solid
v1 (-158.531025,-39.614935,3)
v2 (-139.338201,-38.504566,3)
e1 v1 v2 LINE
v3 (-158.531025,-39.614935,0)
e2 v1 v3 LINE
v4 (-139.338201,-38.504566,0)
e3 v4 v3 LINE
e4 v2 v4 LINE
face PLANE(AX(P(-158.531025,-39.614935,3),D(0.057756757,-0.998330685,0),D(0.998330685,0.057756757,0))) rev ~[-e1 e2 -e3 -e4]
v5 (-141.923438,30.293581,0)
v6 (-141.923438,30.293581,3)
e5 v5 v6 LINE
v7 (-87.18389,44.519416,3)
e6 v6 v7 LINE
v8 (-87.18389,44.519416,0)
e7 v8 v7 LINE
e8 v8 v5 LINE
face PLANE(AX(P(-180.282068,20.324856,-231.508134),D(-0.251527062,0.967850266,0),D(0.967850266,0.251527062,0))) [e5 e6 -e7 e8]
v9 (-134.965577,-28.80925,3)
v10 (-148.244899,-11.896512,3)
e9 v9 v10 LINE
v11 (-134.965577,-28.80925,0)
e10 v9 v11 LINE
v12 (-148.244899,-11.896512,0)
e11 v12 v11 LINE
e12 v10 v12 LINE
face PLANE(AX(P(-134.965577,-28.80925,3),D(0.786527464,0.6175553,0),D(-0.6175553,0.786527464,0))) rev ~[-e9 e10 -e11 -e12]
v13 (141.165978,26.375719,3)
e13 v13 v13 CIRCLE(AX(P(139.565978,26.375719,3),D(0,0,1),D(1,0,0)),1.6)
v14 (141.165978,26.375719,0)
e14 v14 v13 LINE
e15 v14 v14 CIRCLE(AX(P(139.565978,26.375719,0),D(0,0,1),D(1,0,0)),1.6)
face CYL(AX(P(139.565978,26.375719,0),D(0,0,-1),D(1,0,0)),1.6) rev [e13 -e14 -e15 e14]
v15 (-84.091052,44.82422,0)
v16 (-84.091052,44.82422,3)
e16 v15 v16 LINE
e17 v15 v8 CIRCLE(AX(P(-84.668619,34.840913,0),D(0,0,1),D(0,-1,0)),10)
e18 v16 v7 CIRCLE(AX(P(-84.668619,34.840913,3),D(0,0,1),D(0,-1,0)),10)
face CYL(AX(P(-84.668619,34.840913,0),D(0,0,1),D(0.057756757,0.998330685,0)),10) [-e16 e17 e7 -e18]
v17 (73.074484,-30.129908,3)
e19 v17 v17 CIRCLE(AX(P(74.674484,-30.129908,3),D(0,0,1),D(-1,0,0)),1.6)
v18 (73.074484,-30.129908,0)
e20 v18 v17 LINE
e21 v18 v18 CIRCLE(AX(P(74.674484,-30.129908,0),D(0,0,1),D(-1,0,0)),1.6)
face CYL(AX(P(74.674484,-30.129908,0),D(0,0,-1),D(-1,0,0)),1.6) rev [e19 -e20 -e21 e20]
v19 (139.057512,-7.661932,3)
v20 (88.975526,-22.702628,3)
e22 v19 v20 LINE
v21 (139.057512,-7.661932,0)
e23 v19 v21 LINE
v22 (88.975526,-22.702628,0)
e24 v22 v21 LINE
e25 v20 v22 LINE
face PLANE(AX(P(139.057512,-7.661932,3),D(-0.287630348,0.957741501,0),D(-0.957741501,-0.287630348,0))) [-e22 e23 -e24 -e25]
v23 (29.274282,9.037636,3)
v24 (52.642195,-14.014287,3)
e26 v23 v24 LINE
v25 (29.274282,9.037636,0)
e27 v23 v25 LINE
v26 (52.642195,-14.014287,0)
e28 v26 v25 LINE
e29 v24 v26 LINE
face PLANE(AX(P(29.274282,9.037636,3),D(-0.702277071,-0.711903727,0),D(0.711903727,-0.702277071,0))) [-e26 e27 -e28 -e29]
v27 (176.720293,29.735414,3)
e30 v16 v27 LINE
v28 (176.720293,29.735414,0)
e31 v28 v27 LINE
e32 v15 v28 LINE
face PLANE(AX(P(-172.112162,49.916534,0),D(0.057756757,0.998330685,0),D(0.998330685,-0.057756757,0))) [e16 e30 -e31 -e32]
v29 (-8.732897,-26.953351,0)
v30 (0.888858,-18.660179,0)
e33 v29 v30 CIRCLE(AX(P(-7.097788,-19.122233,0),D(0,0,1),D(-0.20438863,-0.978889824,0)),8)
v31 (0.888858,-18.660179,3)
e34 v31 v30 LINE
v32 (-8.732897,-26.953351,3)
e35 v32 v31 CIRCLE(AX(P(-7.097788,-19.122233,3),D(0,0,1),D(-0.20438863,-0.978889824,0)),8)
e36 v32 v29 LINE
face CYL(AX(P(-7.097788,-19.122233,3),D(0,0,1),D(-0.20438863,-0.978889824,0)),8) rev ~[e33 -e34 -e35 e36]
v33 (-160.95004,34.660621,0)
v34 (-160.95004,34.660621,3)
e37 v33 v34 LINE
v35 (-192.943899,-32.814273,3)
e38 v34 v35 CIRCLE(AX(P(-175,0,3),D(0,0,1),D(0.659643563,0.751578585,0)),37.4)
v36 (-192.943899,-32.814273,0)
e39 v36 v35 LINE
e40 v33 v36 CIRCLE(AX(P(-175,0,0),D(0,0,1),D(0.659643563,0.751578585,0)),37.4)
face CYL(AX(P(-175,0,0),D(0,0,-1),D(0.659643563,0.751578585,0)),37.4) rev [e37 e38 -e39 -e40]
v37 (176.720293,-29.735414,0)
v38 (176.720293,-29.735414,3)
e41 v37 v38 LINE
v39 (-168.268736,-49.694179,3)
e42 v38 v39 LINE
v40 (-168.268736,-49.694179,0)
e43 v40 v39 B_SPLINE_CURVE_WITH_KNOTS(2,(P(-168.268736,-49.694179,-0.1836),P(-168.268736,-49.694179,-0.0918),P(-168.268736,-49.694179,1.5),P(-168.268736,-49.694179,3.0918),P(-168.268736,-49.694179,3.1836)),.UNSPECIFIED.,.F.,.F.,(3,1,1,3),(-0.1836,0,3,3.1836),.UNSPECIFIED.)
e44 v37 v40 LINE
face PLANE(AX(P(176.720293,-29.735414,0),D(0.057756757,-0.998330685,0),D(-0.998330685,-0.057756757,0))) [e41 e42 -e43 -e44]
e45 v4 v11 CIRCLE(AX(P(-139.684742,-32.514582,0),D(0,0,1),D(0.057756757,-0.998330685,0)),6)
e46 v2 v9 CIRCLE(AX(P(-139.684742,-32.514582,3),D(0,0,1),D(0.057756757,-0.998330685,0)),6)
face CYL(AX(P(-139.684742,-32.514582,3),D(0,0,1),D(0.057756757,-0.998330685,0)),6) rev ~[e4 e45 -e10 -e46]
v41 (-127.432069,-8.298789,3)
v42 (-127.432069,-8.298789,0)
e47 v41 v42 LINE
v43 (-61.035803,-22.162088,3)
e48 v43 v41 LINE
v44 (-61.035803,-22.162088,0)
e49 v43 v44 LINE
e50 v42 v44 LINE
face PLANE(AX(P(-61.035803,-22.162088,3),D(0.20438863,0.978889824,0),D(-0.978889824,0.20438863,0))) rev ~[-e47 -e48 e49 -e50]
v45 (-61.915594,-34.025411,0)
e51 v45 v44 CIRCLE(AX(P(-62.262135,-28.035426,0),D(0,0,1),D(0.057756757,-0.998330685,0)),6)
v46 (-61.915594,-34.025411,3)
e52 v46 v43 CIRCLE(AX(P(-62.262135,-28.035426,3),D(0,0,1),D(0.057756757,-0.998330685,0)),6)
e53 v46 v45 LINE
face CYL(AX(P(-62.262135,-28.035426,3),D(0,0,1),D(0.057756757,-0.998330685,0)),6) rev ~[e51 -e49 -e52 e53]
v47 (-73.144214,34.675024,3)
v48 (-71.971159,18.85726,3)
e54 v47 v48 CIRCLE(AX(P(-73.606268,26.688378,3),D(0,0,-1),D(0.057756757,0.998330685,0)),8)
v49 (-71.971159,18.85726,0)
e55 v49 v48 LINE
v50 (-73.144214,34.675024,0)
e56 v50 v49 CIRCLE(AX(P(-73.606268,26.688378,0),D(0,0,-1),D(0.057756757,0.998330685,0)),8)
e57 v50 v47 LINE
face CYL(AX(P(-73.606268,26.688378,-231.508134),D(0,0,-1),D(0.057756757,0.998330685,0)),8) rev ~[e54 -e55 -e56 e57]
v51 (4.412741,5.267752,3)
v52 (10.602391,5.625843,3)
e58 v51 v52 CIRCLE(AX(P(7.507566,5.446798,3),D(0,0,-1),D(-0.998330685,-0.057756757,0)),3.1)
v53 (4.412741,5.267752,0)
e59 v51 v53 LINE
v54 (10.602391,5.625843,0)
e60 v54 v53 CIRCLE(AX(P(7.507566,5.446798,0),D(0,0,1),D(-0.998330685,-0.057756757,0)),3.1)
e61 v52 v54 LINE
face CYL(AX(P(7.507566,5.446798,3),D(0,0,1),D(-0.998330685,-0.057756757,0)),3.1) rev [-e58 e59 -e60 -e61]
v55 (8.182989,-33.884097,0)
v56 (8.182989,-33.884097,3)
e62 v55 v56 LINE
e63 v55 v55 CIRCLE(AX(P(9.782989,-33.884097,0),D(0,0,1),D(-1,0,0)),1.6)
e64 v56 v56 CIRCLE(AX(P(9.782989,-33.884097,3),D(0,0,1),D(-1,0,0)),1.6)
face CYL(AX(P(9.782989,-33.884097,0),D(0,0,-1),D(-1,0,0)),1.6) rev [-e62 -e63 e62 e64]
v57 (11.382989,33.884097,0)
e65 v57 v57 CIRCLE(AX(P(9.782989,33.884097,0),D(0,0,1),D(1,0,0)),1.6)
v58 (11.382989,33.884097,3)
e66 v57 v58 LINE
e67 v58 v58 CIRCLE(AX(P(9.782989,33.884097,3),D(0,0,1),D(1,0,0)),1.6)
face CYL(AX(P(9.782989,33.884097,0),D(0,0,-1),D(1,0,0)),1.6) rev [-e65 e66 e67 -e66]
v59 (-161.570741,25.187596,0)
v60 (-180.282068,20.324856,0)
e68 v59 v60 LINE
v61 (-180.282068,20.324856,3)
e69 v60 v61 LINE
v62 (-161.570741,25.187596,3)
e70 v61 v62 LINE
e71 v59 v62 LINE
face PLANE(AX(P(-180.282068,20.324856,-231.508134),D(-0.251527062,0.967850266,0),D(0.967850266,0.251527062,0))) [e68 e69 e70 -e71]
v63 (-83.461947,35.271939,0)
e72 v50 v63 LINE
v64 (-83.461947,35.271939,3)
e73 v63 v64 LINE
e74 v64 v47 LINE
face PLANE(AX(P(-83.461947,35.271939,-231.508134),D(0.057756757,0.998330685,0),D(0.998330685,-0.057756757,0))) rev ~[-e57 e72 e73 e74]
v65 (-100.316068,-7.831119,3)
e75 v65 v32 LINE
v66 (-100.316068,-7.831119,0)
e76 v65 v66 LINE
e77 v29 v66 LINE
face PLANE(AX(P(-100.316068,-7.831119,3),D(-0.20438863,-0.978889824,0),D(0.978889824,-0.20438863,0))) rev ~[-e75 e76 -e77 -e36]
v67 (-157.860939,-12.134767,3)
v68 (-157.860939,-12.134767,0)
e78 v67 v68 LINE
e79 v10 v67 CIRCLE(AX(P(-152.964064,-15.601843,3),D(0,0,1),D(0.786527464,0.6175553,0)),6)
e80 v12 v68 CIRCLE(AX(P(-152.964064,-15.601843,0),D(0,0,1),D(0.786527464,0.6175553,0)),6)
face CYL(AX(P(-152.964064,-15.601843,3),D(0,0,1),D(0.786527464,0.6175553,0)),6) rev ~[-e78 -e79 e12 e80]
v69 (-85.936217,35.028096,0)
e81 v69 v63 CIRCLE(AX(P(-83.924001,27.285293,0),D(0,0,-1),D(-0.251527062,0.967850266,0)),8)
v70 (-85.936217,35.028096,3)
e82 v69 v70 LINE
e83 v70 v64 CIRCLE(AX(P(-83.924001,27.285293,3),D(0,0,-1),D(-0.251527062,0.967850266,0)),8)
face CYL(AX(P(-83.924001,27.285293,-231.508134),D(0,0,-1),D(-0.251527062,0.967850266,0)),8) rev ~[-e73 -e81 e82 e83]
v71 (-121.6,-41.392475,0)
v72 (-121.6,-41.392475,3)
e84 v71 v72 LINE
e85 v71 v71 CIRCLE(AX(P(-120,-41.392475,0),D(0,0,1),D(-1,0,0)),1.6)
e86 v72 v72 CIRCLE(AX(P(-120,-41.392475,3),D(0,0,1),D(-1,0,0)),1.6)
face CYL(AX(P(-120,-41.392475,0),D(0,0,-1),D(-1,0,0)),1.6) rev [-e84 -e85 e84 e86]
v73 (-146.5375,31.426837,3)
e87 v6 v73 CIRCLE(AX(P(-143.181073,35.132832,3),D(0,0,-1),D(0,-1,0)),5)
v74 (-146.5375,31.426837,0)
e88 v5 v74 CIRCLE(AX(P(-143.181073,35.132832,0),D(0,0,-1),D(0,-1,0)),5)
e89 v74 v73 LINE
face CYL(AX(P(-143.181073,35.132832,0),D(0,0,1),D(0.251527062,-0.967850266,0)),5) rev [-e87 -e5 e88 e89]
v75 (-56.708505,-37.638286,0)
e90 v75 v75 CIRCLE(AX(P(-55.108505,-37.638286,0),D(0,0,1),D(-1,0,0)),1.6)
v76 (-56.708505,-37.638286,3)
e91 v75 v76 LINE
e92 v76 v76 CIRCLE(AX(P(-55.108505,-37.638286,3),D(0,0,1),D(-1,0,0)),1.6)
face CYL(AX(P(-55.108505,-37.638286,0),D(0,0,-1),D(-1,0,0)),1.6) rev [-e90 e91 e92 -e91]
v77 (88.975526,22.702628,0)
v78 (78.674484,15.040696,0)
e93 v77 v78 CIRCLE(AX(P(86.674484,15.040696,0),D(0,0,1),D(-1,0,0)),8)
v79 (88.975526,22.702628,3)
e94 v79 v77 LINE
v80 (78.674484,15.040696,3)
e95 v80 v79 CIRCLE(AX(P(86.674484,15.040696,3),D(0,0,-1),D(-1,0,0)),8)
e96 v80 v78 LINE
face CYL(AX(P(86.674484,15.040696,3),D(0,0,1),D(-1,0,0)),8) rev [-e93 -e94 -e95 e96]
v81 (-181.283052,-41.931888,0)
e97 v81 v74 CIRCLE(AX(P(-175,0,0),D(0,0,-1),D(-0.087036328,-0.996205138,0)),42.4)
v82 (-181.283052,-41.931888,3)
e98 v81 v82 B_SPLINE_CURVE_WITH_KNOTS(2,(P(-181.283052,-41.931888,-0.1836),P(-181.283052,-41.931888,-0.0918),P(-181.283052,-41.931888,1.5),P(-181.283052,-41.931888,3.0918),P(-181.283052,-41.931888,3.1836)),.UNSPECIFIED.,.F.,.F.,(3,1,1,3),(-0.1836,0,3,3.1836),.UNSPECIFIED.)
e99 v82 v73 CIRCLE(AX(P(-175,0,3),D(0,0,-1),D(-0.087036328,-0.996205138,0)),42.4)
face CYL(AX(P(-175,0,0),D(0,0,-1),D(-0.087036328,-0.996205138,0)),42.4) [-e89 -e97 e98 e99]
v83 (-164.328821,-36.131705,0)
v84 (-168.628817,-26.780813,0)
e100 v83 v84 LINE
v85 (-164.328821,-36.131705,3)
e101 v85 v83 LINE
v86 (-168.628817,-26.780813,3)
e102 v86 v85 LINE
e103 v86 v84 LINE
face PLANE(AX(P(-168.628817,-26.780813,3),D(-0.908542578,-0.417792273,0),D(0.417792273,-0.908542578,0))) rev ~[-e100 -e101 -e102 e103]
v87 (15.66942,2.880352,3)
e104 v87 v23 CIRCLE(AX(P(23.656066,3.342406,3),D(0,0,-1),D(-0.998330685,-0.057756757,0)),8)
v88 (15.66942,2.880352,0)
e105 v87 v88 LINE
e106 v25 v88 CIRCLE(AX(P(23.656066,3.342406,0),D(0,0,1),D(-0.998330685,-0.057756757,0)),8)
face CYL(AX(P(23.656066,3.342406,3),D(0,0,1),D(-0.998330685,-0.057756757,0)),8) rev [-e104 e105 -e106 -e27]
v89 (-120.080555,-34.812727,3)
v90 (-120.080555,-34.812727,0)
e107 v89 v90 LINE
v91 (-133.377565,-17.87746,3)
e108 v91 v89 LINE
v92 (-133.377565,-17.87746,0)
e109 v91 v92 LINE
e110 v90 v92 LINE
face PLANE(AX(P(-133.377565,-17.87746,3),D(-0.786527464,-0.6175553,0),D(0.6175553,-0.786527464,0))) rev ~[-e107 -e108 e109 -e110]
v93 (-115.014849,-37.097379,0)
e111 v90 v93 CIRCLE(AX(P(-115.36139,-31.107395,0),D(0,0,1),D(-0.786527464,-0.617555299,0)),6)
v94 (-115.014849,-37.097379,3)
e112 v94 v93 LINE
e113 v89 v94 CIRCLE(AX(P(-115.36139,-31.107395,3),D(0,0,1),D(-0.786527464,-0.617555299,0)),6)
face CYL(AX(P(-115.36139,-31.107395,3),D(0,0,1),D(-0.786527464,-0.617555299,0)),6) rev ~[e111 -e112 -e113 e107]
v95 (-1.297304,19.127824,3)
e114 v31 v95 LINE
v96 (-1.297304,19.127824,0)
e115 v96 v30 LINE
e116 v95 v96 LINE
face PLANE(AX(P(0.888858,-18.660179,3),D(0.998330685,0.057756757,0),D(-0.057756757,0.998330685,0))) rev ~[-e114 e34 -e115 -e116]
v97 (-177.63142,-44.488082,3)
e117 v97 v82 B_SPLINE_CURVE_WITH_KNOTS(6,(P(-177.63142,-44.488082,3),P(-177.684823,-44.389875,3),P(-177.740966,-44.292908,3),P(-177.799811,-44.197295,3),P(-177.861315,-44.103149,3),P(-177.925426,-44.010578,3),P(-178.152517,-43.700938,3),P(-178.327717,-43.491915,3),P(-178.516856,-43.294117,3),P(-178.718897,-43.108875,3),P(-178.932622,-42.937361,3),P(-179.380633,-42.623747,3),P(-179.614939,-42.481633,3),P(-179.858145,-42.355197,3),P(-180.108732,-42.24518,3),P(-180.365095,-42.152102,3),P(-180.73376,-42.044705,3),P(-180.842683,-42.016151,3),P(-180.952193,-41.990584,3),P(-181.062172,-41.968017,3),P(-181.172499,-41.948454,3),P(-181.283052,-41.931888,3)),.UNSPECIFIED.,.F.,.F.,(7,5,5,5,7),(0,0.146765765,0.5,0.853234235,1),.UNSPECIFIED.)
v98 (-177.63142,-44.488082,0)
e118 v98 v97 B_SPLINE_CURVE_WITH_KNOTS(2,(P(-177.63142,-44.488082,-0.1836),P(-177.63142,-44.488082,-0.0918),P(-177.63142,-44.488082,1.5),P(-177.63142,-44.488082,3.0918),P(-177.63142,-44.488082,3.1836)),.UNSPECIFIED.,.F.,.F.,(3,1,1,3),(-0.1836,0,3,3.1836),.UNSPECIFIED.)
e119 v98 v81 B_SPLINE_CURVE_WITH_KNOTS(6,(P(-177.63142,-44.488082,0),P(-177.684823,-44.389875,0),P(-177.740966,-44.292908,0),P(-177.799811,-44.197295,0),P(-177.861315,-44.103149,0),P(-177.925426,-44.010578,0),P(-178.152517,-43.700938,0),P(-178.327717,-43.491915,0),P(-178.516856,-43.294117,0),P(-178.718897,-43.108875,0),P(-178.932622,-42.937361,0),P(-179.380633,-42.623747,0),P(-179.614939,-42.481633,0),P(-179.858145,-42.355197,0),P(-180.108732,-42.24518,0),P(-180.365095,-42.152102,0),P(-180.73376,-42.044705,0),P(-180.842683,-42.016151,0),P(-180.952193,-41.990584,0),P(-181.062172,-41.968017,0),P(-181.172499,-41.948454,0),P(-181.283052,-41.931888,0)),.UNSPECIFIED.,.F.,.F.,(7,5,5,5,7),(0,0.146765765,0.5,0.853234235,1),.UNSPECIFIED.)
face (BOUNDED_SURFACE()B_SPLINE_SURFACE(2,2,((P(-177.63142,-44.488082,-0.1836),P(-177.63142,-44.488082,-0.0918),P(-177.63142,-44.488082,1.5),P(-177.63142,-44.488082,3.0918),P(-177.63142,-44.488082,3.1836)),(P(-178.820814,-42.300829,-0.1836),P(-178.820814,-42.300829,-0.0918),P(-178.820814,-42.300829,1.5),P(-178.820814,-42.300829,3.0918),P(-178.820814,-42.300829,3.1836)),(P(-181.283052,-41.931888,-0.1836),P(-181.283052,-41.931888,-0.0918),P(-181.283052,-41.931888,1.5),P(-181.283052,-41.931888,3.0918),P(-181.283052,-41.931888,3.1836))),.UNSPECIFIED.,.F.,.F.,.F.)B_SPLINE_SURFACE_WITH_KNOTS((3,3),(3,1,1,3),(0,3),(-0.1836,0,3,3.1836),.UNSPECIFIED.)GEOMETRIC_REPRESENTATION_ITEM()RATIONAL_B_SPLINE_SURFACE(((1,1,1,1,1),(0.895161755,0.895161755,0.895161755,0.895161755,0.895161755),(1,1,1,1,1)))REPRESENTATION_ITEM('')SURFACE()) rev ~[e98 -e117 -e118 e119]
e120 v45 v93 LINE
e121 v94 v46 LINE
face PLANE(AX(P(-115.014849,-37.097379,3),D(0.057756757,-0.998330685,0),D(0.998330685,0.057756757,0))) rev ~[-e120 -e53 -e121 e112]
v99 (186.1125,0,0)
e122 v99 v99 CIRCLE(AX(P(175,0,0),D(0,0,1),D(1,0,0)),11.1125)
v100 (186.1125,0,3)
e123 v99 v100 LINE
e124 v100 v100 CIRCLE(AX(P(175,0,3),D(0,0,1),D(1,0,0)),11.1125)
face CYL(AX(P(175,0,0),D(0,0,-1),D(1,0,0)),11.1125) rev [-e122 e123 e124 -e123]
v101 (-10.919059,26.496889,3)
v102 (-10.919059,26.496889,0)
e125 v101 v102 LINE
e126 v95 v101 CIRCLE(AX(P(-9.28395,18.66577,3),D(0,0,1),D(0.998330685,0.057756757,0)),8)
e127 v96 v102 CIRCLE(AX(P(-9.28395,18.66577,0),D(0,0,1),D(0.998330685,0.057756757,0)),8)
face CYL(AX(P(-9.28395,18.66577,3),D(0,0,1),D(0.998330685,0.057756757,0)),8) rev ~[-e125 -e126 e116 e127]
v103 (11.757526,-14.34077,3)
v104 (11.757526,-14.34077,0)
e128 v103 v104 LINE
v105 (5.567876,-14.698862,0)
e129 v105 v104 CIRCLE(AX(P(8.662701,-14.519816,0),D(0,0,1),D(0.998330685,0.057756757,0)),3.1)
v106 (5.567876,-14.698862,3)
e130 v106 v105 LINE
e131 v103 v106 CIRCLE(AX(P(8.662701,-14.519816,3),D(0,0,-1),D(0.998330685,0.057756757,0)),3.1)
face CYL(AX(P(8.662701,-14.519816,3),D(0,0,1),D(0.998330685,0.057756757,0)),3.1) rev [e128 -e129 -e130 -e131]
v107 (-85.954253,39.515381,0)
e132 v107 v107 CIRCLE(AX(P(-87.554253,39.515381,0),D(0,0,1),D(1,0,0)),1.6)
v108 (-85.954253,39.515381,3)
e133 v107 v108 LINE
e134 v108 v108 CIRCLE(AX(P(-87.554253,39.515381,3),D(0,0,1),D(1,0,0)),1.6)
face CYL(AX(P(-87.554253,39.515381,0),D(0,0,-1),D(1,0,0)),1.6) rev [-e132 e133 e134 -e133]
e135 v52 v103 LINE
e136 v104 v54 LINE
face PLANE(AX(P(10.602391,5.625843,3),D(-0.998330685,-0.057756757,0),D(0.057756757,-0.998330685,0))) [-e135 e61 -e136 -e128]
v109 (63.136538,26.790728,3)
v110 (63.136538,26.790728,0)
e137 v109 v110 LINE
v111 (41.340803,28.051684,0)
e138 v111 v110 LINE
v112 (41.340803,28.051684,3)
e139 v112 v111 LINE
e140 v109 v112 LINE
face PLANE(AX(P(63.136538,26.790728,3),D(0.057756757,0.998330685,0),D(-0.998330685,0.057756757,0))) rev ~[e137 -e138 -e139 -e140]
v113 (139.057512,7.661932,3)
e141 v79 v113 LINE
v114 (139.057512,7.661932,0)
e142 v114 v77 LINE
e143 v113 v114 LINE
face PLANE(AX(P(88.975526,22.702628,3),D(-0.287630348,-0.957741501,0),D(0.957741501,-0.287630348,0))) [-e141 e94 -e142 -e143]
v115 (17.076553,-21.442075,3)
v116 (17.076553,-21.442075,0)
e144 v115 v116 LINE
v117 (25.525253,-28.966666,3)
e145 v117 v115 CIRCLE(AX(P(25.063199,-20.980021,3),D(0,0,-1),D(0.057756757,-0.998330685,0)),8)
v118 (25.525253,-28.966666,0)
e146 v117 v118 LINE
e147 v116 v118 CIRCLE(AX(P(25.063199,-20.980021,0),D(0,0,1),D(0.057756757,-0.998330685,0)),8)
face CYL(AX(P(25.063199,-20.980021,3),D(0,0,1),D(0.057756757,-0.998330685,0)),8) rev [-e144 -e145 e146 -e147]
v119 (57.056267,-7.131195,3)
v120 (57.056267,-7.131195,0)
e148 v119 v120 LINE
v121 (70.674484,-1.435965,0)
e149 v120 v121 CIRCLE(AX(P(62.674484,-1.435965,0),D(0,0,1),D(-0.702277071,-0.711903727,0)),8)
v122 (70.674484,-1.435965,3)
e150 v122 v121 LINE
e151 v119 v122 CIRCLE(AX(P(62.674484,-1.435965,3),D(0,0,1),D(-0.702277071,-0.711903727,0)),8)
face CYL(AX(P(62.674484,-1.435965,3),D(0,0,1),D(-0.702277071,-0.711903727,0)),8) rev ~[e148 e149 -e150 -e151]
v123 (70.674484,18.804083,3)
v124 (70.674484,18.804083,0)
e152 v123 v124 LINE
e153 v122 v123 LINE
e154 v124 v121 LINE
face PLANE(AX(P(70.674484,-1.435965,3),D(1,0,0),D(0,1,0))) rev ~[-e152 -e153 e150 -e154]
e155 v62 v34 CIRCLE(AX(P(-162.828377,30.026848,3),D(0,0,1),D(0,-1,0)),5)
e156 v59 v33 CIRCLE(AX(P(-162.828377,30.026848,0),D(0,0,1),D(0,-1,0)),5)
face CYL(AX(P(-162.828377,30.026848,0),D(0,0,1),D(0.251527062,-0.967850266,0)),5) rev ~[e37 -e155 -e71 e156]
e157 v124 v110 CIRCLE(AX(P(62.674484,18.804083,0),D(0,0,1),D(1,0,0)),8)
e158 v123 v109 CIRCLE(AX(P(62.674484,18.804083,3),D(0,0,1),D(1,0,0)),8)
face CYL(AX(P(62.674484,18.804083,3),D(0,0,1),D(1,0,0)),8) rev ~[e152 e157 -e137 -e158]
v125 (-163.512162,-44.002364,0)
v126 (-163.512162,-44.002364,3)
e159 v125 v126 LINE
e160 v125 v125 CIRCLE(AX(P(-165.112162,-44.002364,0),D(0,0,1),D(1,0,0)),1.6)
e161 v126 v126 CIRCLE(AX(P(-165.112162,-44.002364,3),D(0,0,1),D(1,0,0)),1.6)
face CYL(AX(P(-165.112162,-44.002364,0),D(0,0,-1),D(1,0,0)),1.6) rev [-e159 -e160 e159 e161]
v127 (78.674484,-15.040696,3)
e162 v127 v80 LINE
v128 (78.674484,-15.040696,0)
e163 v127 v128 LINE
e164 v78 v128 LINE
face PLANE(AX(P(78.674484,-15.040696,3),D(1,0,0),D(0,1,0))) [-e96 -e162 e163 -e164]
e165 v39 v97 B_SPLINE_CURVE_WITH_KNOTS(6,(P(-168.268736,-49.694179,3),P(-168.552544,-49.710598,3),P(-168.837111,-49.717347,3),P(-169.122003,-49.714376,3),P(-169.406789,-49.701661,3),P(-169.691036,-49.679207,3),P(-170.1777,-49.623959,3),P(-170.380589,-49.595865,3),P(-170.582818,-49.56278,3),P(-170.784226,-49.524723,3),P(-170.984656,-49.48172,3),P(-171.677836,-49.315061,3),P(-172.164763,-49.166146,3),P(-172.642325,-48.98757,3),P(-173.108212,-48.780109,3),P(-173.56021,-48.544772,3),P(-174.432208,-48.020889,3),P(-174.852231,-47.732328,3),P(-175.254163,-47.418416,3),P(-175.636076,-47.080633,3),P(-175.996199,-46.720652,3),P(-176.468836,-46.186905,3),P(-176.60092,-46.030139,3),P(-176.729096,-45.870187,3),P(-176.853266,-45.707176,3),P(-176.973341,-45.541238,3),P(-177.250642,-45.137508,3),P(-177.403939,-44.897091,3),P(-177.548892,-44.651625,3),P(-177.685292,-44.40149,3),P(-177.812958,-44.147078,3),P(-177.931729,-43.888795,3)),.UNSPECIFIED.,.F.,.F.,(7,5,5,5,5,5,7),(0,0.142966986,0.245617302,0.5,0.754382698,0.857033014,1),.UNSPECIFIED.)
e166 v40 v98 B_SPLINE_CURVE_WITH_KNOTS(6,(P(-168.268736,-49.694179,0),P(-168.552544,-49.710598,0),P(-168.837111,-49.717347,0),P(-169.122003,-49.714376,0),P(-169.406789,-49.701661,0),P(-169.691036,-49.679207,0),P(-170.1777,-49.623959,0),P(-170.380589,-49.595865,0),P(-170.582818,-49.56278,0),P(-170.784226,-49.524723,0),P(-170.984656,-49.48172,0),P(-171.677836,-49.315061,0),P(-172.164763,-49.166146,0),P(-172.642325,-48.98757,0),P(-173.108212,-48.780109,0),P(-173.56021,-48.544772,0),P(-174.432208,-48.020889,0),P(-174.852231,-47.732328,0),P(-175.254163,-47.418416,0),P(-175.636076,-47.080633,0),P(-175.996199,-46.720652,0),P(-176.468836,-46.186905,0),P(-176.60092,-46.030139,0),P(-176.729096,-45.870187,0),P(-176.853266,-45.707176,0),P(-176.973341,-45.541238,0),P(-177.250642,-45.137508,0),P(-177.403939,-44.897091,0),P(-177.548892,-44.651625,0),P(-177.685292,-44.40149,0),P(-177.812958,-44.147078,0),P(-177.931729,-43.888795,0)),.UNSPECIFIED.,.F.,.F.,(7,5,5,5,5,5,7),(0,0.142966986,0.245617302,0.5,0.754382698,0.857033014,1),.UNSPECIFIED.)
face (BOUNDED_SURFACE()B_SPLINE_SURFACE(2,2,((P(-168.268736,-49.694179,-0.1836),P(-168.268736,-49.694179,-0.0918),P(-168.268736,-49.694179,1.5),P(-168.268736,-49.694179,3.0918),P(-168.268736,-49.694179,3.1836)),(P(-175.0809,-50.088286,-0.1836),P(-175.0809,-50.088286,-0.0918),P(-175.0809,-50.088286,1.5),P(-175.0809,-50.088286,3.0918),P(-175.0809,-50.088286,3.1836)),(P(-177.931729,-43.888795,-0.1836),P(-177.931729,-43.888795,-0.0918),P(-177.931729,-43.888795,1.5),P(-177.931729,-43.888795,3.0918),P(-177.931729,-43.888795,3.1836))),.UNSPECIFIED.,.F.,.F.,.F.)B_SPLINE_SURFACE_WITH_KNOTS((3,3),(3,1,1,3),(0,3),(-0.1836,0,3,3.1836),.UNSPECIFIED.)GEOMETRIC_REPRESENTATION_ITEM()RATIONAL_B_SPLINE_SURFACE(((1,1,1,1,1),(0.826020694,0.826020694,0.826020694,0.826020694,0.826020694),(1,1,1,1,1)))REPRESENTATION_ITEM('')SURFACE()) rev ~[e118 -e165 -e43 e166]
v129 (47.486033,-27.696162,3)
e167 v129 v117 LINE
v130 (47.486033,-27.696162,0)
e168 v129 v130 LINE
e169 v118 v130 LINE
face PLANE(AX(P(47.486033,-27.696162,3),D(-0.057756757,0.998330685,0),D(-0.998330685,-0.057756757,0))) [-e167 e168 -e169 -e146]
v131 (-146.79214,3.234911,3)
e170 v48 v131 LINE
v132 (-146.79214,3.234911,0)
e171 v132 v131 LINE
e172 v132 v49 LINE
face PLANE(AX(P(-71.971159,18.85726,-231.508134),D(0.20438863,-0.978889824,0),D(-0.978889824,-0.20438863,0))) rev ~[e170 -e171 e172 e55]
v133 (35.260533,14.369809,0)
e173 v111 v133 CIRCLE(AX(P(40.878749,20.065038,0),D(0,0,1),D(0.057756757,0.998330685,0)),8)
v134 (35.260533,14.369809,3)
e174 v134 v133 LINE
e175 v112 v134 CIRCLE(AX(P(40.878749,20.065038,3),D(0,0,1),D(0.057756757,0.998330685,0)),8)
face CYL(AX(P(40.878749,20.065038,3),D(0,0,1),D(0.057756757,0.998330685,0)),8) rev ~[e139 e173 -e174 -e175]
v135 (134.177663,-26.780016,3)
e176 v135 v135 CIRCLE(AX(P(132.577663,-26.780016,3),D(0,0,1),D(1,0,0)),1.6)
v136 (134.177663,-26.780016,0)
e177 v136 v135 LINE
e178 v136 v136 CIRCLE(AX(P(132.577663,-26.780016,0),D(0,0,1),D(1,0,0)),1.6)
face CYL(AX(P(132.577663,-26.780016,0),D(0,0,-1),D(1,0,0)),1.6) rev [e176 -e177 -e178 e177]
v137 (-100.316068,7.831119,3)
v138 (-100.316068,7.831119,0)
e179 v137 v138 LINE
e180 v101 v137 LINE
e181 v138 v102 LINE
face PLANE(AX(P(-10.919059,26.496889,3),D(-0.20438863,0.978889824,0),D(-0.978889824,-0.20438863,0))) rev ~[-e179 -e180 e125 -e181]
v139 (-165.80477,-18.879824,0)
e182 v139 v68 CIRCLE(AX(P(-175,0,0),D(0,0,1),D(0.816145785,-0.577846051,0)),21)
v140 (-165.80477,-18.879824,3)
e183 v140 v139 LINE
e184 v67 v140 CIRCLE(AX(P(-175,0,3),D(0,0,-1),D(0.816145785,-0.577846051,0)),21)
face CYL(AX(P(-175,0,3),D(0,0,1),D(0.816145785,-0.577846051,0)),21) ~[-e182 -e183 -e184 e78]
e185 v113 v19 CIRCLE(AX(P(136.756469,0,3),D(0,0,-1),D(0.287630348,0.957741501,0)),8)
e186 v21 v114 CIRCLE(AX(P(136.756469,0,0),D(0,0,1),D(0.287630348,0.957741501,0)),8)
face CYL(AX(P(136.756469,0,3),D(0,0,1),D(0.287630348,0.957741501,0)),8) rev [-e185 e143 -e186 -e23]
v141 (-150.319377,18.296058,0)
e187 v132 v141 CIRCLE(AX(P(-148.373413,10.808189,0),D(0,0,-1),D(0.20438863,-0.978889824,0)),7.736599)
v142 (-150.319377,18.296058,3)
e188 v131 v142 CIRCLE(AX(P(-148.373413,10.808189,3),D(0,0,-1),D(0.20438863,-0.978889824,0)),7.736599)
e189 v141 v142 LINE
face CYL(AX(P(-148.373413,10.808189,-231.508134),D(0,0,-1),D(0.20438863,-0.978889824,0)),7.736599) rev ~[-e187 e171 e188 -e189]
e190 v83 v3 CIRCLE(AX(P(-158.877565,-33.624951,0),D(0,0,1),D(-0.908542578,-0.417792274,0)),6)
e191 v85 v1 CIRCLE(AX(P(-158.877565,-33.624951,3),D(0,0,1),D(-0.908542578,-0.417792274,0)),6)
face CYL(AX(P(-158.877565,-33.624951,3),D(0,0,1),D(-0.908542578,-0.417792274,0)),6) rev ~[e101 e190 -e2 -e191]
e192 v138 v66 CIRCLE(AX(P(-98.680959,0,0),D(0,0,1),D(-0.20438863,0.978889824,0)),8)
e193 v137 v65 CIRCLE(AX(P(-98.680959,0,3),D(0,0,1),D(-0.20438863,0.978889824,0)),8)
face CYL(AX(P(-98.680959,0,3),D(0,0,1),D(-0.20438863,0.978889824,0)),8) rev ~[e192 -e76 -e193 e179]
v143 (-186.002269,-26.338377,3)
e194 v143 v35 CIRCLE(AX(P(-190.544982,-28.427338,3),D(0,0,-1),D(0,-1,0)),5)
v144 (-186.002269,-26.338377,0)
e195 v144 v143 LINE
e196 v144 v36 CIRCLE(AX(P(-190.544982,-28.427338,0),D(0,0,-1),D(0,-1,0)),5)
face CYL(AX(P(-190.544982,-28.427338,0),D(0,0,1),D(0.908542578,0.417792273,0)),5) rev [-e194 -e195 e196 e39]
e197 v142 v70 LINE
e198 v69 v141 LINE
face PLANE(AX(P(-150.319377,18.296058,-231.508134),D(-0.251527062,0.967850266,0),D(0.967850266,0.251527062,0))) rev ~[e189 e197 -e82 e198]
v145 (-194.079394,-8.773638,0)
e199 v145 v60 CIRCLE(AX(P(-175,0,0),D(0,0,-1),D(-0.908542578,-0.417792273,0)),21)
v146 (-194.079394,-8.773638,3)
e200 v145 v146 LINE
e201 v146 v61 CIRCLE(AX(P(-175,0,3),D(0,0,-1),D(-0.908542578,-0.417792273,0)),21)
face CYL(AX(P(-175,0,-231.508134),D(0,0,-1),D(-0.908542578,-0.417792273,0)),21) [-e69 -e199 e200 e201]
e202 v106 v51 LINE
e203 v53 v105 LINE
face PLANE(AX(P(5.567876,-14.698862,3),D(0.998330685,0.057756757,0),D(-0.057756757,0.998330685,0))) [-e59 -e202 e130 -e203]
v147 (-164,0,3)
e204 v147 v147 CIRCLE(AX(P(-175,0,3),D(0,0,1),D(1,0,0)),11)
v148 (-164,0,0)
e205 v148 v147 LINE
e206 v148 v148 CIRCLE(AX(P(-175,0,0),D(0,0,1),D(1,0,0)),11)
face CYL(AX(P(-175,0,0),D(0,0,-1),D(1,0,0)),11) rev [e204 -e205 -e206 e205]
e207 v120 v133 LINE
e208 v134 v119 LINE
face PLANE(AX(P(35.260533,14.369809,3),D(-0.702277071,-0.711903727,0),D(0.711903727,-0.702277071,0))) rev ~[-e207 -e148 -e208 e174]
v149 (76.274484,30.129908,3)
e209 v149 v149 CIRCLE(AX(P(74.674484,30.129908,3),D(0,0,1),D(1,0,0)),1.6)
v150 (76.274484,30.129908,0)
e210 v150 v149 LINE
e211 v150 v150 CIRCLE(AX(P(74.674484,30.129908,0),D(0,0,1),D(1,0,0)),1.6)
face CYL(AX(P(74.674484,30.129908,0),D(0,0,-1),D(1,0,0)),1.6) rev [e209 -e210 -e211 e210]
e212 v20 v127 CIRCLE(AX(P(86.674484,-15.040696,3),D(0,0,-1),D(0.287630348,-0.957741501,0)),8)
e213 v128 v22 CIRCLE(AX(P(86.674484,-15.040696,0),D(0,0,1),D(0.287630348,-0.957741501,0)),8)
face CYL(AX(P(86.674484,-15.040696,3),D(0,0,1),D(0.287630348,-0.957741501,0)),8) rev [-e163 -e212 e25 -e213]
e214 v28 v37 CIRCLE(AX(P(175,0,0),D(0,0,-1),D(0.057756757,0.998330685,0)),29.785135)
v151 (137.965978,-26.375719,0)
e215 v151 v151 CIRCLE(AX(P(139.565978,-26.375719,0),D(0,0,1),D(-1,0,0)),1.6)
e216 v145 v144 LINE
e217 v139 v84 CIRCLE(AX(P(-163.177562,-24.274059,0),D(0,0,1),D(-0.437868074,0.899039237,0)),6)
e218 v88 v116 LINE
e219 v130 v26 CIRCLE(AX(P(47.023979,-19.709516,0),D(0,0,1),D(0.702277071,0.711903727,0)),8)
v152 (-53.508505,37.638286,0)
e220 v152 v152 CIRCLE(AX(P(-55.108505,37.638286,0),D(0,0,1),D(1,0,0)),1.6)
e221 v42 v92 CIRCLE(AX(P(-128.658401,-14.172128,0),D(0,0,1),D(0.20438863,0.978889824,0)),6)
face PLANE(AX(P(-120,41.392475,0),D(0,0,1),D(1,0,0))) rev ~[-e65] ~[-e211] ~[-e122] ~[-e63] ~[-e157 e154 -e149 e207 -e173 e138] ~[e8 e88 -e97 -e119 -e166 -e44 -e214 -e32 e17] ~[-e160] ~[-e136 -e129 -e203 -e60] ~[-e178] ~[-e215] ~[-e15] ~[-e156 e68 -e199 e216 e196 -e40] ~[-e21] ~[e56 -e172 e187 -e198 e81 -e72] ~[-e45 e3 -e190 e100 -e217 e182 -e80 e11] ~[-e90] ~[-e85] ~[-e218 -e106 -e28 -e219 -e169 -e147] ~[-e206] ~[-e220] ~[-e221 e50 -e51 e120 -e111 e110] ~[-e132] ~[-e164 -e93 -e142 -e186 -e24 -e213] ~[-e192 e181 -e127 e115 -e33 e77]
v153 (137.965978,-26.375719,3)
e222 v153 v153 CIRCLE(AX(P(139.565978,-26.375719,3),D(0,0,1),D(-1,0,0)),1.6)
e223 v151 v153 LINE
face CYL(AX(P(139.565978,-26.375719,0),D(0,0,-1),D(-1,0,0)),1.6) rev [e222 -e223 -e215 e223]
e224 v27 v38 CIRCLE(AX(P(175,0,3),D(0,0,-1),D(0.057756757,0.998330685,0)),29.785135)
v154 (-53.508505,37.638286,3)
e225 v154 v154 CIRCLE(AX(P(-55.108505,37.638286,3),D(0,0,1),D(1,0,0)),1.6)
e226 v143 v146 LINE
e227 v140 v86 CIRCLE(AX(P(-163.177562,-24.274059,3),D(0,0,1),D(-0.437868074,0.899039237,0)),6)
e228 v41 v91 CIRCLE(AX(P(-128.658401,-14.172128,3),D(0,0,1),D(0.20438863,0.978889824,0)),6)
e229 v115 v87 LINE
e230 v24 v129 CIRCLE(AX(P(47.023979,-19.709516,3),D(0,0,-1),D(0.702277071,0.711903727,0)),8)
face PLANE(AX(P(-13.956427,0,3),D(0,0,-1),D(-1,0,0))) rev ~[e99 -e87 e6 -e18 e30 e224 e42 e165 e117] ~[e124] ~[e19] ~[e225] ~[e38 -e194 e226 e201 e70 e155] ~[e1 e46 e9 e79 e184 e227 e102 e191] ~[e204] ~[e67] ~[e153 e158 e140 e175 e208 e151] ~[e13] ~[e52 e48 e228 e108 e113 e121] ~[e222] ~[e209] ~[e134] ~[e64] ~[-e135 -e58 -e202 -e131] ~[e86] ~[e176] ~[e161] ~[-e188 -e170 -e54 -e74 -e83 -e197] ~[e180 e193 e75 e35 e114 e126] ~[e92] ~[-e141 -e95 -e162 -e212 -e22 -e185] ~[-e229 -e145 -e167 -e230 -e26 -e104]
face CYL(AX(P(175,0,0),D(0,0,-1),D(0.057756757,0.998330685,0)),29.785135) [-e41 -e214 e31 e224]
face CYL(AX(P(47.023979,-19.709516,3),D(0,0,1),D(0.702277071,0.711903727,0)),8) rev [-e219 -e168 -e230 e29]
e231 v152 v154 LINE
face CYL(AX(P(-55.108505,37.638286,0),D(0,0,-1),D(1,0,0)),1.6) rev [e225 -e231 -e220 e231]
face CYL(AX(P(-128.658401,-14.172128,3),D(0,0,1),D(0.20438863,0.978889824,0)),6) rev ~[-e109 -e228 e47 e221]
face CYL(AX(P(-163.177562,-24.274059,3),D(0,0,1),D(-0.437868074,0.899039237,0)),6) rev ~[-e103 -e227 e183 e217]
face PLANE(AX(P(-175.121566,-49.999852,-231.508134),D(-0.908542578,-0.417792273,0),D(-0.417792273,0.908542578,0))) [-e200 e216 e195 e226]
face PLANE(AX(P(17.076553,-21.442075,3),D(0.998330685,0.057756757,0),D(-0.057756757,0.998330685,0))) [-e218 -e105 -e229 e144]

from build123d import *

# Parameters (mm, degrees)
SKETCH1_R               = 11.1125
SKETCH1_R_2             = 11
SKETCH1_R_3             = 1.6
BOSS_EXTRUDE1_DEPTH     = 3
M3_CLEARANCE_HOLE1_D    = 3.4
CUT_EXTRUDE1_DEPTH      = 10
BOSS_EXTRUDE4_START     = -3
SKETCH13_R              = 1.6
SKETCH13_R_2            = 1.7
BOSS_EXTRUDE4_DEPTH     = 3
CUT_EXTRUDE2_DEPTH      = 231.508134347
CUT_EXTRUDE2_DEPTH_BACK = 231.508134347
FILLET3_R               = 10
BOSS_EXTRUDE5_DEPTH     = 3
FILLET4_R               = 5


with BuildPart() as part:
    # Sketch1 → Boss-Extrude1 (new body)
    with BuildSketch(Plane.XY):
        with BuildLine():
            Line((-172.112162162, 49.916534261), (176.720292805, 29.735414369))
            ThreePointArc((176.720292805, 29.735414369), (204.785135135, 0), (176.720292805, -29.735414369))
            Line((176.720292805, -29.735414369), (-172.112162162, -49.916534261))
            ThreePointArc((-172.112162162, -49.916534261), (-225, 0), (-172.112162162, 49.916534261))
        make_face()
        with Locations((175, 0)):
            Circle(SKETCH1_R, mode=Mode.SUBTRACT)
        with Locations((-175, 0)):
            Circle(SKETCH1_R_2, mode=Mode.SUBTRACT)
        with Locations((-120, 41.392475449)):
            Circle(SKETCH1_R_3, mode=Mode.SUBTRACT)
        with Locations((-55.108505461, 37.63828626)):
            Circle(SKETCH1_R_3, mode=Mode.SUBTRACT)
        with Locations((9.782989078, 33.884097071)):
            Circle(SKETCH1_R_3, mode=Mode.SUBTRACT)
        with Locations((74.674483618, 30.129907882)):
            Circle(SKETCH1_R_3, mode=Mode.SUBTRACT)
        with Locations((139.565978157, 26.375718693)):
            Circle(SKETCH1_R_3, mode=Mode.SUBTRACT)
        with Locations(Location((139.565978157, -26.375718693, 0), (0, 0, 180))):
            Circle(SKETCH1_R_3, mode=Mode.SUBTRACT)
        with Locations(Location((74.674483618, -30.129907882, 0), (0, 0, 180))):
            Circle(SKETCH1_R_3, mode=Mode.SUBTRACT)
        with Locations(Location((9.782989078, -33.884097071, 0), (0, 0, 180))):
            Circle(SKETCH1_R_3, mode=Mode.SUBTRACT)
        with Locations(Location((-55.108505461, -37.63828626, 0), (0, 0, 180))):
            Circle(SKETCH1_R_3, mode=Mode.SUBTRACT)
        with Locations(Location((-120, -41.392475449, 0), (0, 0, 180))):
            Circle(SKETCH1_R_3, mode=Mode.SUBTRACT)
        with Locations((-87.55425273, 39.515380855)):
            Circle(SKETCH1_R_3, mode=Mode.SUBTRACT)
        with Locations((-165.112162162, -44.002364352)):
            Circle(SKETCH1_R_3, mode=Mode.SUBTRACT)
        with Locations(Location((-165.112162162, 44.002364352, 0), (0, 0, 180))):
            Circle(SKETCH1_R_3, mode=Mode.SUBTRACT)
        with Locations((132.57766336, -26.78001599)):
            Circle(SKETCH1_R_3, mode=Mode.SUBTRACT)
    extrude(amount=BOSS_EXTRUDE1_DEPTH)

    # M3 Clearance Hole1 (through all)
    with Locations(Plane.XY.offset(3)):
        with Locations((-197.5, 0), (-175, 22.5), (-152.5, 0), (-175, -22.5)):
            Hole(M3_CLEARANCE_HOLE1_D / 2)

    # Sketch7 → Cut-Extrude1 (cut)
    with BuildSketch(Plane.XY.offset(3)):
        with BuildLine():
            Line((88.975526403, 22.70262828), (139.057512253, 7.661932008))
            ThreePointArc((139.057512253, 7.661932008), (144.756469468, 0), (139.057512253, -7.661932008))
            Line((139.057512253, -7.661932008), (88.975526403, -22.70262828))
            ThreePointArc((88.975526403, -22.70262828), (81.899985858, -21.459743798), (78.674483618, -15.040696272))
            Line((78.674483618, -15.040696272), (78.674483618, 15.040696272))
            ThreePointArc((78.674483618, 15.040696272), (81.899985858, 21.459743798), (88.975526403, 22.70262828))
        make_face()
        with BuildLine():
            Line((70.674483618, -1.435965036), (70.674483618, 18.804082595))
            ThreePointArc((70.674483618, 18.804082595), (68.492405602, 24.295146589), (63.136537672, 26.790728077))
            Line((63.136537672, 26.790728077), (41.340803255, 28.05168394))
            ThreePointArc((41.340803255, 28.05168394), (33.5681452, 23.313895048), (35.260532637, 14.369808645))
            Line((35.260532637, 14.369808645), (57.056267053, -7.13119485))
            ThreePointArc((57.056267053, -7.13119485), (65.761089155, -8.816538609), (70.674483618, -1.435965036))
        make_face()
        with BuildLine():
            Line((29.274282074, 9.037636121), (52.642195402, -14.014286633))
            ThreePointArc((52.642195402, -14.014286633), (54.510022559, -22.530712895), (47.486032892, -27.696161929))
            Line((47.486032892, -27.696161929), (25.525253015, -28.966666222))
            ThreePointArc((25.525253015, -28.966666222), (19.742509337, -26.954153474), (17.076553479, -21.442074794))
            Line((17.076553479, -21.442074794), (15.669420028, 2.880352253))
            ThreePointArc((15.669420028, 2.880352253), (20.357520369, 10.630725727), (29.274282074, 9.037636121))
        make_face()
        with BuildLine():
            Line((0.888857819, -18.660178632), (-1.297304055, 19.127824103))
            ThreePointArc((-1.297304055, 19.127824103), (-4.419663172, 25.017046941), (-10.919058578, 26.496888642))
            Line((-10.919058578, 26.496888642), (-100.316068348, 7.831118593))
            ThreePointArc((-100.316068348, 7.831118593), (-106.680959307, 0), (-100.316068348, -7.831118593))
            Line((-100.316068348, -7.831118593), (-8.732896703, -26.953351279))
            ThreePointArc((-8.732896703, -26.953351279), (-1.874792168, -25.181961893), (0.888857819, -18.660178632))
        make_face()
        with BuildLine():
            Line((5.567875781, -14.698862148), (4.412740646, 5.267751556))
            ThreePointArc((4.412740646, 5.267751556), (7.328519824, 8.541622626), (10.602390894, 5.625843448))
            Line((10.602390894, 5.625843448), (11.757526029, -14.340770256))
            ThreePointArc((11.757526029, -14.340770256), (8.841746851, -17.614641327), (5.567875781, -14.698862148))
        make_face()
        with BuildLine():
            Line((-168.628817462, -26.780813035), (-164.328820539, -36.131704715))
            ThreePointArc((-164.328820539, -36.131704715), (-161.9675088, -38.768125945), (-158.531024529, -39.614935187))
            Line((-158.531024529, -39.614935187), (-139.338201161, -38.504566401))
            ThreePointArc((-139.338201161, -38.504566401), (-134.215269125, -34.981335164), (-134.965576917, -28.809250491))
            Line((-134.965576917, -28.809250491), (-148.244899035, -11.896511575))
            ThreePointArc((-148.244899035, -11.896511575), (-153.112679512, -9.603684208), (-157.860938526, -12.134767068))
            ThreePointArc((-157.860938526, -12.134767068), (-161.407808519, -16.007883394), (-165.804770439, -18.879823975))
            ThreePointArc((-165.804770439, -18.879823975), (-168.827500209, -22.25460448), (-168.628817462, -26.780813035))
        make_face()
        with BuildLine():
            Line((-115.014849323, -37.097379447), (-61.915594024, -34.025410592))
            ThreePointArc((-61.915594024, -34.025410592), (-56.278566205, -28.479171543), (-61.035802784, -22.162087536))
            Line((-61.035802784, -22.162087536), (-127.432068804, -8.298789011))
            ThreePointArc((-127.432068804, -8.298789011), (-133.756214224, -11.00790671), (-133.377565369, -17.877459755))
            Line((-133.377565369, -17.877459755), (-120.080554648, -34.812727134))
            ThreePointArc((-120.080554648, -34.812727134), (-117.828142738, -36.576867912), (-115.014849323, -37.097379447))
        make_face()
    extrude(amount=-CUT_EXTRUDE1_DEPTH, mode=Mode.SUBTRACT)

    # Sketch13 → Boss-Extrude4 (add)
    with BuildSketch(Plane.XY.offset(3).offset(BOSS_EXTRUDE4_START)):
        with Locations((-120, 41.392475449)):
            Circle(SKETCH13_R)
        with Locations((-165.112162162, 44.002364352)):
            Circle(SKETCH13_R)
        with Locations((-152.5, 0)):
            Circle(SKETCH13_R_2)
        with Locations((-175, 22.5)):
            Circle(SKETCH13_R_2)
        with Locations((-197.5, 0)):
            Circle(SKETCH13_R_2)
        with Locations((-175, -22.5)):
            Circle(SKETCH13_R_2)
    extrude(amount=BOSS_EXTRUDE4_DEPTH)

    # Sketch12 → Cut-Extrude2 (cut, two sides: drawn at the far end of the back side and taken through both)
    with BuildSketch(Plane.XY.offset(-CUT_EXTRUDE2_DEPTH_BACK)):
        with BuildLine():
            Line((-180.282068296, 20.324855584), (-85.661443891, 44.91507214))
            Line((-85.661443891, 44.91507214), (-172.112162162, 49.916534261))
            ThreePointArc((-172.112162162, 49.916534261), (-224.977336227, 1.505278598), (-175.121566215, -49.999852216))
            Line((-175.121566215, -49.999852216), (-194.079394143, -8.773637737))
            ThreePointArc((-194.079394143, -8.773637737), (-193.975004386, 8.997177811), (-180.282068296, 20.324855584))
        make_face()
        with BuildLine():
            Line((-150.319376569, 18.296058095), (-85.936217247, 35.028095536))
            ThreePointArc((-85.936217247, 35.028095536), (-84.708612627, 35.246724449), (-83.461946699, 35.27193889))
            Line((-83.461946699, 35.27193889), (-73.144213844, 34.675023664))
            ThreePointArc((-73.144213844, 34.675023664), (-65.628176752, 27.280038265), (-71.971158858, 18.857259589))
            Line((-71.971158858, 18.857259589), (-146.792139826, 3.234911267))
            ThreePointArc((-146.792139826, 3.234911267), (-155.906193385, 9.044053679), (-150.319376569, 18.296058095))
        make_face()
    extrude(amount=CUT_EXTRUDE2_DEPTH + CUT_EXTRUDE2_DEPTH_BACK, mode=Mode.SUBTRACT)

    # Fillet3
    fillet3_edges = [part.edges().sort_by_distance(p)[0] for p in [
        (-85.661443891, 44.91507214, 1.5),
        (-175.121566215, -49.999852216, 1.5),
    ]]
    fillet(fillet3_edges, radius=FILLET3_R)

    # Sketch14 → Boss-Extrude5 (add)
    with BuildSketch(Plane(origin=(0, 0, 0), x_dir=(-1, 0, 0), z_dir=(0, 0, -1))):
        with BuildLine():
            Line((181.149685122, -36.8909389), (178.690340293, -42.239097866))
            ThreePointArc((178.690340293, -42.239097866), (213.311437426, 18.165730438), (144.63205556, 29.58965952))
            Line((144.63205556, 29.58965952), (150.329330737, 28.109039082))
            ThreePointArc((150.329330737, 28.109039082), (208.793579239, 16.023545245), (181.149685122, -36.8909389))
        make_face()
    extrude(amount=-BOSS_EXTRUDE5_DEPTH)

    # Fillet4
    fillet4_edges = [part.edges().sort_by_distance(p)[0] for p in [
        (-178.690340293, -42.239097866, 1.5),
        (-181.149685122, -36.8909389, 1.5),
        (-144.63205556, 29.58965952, 1.5),
        (-150.329330737, 28.109039082, 1.5),
    ]]
    fillet(fillet4_edges, radius=FILLET4_R)


solid = part.part
